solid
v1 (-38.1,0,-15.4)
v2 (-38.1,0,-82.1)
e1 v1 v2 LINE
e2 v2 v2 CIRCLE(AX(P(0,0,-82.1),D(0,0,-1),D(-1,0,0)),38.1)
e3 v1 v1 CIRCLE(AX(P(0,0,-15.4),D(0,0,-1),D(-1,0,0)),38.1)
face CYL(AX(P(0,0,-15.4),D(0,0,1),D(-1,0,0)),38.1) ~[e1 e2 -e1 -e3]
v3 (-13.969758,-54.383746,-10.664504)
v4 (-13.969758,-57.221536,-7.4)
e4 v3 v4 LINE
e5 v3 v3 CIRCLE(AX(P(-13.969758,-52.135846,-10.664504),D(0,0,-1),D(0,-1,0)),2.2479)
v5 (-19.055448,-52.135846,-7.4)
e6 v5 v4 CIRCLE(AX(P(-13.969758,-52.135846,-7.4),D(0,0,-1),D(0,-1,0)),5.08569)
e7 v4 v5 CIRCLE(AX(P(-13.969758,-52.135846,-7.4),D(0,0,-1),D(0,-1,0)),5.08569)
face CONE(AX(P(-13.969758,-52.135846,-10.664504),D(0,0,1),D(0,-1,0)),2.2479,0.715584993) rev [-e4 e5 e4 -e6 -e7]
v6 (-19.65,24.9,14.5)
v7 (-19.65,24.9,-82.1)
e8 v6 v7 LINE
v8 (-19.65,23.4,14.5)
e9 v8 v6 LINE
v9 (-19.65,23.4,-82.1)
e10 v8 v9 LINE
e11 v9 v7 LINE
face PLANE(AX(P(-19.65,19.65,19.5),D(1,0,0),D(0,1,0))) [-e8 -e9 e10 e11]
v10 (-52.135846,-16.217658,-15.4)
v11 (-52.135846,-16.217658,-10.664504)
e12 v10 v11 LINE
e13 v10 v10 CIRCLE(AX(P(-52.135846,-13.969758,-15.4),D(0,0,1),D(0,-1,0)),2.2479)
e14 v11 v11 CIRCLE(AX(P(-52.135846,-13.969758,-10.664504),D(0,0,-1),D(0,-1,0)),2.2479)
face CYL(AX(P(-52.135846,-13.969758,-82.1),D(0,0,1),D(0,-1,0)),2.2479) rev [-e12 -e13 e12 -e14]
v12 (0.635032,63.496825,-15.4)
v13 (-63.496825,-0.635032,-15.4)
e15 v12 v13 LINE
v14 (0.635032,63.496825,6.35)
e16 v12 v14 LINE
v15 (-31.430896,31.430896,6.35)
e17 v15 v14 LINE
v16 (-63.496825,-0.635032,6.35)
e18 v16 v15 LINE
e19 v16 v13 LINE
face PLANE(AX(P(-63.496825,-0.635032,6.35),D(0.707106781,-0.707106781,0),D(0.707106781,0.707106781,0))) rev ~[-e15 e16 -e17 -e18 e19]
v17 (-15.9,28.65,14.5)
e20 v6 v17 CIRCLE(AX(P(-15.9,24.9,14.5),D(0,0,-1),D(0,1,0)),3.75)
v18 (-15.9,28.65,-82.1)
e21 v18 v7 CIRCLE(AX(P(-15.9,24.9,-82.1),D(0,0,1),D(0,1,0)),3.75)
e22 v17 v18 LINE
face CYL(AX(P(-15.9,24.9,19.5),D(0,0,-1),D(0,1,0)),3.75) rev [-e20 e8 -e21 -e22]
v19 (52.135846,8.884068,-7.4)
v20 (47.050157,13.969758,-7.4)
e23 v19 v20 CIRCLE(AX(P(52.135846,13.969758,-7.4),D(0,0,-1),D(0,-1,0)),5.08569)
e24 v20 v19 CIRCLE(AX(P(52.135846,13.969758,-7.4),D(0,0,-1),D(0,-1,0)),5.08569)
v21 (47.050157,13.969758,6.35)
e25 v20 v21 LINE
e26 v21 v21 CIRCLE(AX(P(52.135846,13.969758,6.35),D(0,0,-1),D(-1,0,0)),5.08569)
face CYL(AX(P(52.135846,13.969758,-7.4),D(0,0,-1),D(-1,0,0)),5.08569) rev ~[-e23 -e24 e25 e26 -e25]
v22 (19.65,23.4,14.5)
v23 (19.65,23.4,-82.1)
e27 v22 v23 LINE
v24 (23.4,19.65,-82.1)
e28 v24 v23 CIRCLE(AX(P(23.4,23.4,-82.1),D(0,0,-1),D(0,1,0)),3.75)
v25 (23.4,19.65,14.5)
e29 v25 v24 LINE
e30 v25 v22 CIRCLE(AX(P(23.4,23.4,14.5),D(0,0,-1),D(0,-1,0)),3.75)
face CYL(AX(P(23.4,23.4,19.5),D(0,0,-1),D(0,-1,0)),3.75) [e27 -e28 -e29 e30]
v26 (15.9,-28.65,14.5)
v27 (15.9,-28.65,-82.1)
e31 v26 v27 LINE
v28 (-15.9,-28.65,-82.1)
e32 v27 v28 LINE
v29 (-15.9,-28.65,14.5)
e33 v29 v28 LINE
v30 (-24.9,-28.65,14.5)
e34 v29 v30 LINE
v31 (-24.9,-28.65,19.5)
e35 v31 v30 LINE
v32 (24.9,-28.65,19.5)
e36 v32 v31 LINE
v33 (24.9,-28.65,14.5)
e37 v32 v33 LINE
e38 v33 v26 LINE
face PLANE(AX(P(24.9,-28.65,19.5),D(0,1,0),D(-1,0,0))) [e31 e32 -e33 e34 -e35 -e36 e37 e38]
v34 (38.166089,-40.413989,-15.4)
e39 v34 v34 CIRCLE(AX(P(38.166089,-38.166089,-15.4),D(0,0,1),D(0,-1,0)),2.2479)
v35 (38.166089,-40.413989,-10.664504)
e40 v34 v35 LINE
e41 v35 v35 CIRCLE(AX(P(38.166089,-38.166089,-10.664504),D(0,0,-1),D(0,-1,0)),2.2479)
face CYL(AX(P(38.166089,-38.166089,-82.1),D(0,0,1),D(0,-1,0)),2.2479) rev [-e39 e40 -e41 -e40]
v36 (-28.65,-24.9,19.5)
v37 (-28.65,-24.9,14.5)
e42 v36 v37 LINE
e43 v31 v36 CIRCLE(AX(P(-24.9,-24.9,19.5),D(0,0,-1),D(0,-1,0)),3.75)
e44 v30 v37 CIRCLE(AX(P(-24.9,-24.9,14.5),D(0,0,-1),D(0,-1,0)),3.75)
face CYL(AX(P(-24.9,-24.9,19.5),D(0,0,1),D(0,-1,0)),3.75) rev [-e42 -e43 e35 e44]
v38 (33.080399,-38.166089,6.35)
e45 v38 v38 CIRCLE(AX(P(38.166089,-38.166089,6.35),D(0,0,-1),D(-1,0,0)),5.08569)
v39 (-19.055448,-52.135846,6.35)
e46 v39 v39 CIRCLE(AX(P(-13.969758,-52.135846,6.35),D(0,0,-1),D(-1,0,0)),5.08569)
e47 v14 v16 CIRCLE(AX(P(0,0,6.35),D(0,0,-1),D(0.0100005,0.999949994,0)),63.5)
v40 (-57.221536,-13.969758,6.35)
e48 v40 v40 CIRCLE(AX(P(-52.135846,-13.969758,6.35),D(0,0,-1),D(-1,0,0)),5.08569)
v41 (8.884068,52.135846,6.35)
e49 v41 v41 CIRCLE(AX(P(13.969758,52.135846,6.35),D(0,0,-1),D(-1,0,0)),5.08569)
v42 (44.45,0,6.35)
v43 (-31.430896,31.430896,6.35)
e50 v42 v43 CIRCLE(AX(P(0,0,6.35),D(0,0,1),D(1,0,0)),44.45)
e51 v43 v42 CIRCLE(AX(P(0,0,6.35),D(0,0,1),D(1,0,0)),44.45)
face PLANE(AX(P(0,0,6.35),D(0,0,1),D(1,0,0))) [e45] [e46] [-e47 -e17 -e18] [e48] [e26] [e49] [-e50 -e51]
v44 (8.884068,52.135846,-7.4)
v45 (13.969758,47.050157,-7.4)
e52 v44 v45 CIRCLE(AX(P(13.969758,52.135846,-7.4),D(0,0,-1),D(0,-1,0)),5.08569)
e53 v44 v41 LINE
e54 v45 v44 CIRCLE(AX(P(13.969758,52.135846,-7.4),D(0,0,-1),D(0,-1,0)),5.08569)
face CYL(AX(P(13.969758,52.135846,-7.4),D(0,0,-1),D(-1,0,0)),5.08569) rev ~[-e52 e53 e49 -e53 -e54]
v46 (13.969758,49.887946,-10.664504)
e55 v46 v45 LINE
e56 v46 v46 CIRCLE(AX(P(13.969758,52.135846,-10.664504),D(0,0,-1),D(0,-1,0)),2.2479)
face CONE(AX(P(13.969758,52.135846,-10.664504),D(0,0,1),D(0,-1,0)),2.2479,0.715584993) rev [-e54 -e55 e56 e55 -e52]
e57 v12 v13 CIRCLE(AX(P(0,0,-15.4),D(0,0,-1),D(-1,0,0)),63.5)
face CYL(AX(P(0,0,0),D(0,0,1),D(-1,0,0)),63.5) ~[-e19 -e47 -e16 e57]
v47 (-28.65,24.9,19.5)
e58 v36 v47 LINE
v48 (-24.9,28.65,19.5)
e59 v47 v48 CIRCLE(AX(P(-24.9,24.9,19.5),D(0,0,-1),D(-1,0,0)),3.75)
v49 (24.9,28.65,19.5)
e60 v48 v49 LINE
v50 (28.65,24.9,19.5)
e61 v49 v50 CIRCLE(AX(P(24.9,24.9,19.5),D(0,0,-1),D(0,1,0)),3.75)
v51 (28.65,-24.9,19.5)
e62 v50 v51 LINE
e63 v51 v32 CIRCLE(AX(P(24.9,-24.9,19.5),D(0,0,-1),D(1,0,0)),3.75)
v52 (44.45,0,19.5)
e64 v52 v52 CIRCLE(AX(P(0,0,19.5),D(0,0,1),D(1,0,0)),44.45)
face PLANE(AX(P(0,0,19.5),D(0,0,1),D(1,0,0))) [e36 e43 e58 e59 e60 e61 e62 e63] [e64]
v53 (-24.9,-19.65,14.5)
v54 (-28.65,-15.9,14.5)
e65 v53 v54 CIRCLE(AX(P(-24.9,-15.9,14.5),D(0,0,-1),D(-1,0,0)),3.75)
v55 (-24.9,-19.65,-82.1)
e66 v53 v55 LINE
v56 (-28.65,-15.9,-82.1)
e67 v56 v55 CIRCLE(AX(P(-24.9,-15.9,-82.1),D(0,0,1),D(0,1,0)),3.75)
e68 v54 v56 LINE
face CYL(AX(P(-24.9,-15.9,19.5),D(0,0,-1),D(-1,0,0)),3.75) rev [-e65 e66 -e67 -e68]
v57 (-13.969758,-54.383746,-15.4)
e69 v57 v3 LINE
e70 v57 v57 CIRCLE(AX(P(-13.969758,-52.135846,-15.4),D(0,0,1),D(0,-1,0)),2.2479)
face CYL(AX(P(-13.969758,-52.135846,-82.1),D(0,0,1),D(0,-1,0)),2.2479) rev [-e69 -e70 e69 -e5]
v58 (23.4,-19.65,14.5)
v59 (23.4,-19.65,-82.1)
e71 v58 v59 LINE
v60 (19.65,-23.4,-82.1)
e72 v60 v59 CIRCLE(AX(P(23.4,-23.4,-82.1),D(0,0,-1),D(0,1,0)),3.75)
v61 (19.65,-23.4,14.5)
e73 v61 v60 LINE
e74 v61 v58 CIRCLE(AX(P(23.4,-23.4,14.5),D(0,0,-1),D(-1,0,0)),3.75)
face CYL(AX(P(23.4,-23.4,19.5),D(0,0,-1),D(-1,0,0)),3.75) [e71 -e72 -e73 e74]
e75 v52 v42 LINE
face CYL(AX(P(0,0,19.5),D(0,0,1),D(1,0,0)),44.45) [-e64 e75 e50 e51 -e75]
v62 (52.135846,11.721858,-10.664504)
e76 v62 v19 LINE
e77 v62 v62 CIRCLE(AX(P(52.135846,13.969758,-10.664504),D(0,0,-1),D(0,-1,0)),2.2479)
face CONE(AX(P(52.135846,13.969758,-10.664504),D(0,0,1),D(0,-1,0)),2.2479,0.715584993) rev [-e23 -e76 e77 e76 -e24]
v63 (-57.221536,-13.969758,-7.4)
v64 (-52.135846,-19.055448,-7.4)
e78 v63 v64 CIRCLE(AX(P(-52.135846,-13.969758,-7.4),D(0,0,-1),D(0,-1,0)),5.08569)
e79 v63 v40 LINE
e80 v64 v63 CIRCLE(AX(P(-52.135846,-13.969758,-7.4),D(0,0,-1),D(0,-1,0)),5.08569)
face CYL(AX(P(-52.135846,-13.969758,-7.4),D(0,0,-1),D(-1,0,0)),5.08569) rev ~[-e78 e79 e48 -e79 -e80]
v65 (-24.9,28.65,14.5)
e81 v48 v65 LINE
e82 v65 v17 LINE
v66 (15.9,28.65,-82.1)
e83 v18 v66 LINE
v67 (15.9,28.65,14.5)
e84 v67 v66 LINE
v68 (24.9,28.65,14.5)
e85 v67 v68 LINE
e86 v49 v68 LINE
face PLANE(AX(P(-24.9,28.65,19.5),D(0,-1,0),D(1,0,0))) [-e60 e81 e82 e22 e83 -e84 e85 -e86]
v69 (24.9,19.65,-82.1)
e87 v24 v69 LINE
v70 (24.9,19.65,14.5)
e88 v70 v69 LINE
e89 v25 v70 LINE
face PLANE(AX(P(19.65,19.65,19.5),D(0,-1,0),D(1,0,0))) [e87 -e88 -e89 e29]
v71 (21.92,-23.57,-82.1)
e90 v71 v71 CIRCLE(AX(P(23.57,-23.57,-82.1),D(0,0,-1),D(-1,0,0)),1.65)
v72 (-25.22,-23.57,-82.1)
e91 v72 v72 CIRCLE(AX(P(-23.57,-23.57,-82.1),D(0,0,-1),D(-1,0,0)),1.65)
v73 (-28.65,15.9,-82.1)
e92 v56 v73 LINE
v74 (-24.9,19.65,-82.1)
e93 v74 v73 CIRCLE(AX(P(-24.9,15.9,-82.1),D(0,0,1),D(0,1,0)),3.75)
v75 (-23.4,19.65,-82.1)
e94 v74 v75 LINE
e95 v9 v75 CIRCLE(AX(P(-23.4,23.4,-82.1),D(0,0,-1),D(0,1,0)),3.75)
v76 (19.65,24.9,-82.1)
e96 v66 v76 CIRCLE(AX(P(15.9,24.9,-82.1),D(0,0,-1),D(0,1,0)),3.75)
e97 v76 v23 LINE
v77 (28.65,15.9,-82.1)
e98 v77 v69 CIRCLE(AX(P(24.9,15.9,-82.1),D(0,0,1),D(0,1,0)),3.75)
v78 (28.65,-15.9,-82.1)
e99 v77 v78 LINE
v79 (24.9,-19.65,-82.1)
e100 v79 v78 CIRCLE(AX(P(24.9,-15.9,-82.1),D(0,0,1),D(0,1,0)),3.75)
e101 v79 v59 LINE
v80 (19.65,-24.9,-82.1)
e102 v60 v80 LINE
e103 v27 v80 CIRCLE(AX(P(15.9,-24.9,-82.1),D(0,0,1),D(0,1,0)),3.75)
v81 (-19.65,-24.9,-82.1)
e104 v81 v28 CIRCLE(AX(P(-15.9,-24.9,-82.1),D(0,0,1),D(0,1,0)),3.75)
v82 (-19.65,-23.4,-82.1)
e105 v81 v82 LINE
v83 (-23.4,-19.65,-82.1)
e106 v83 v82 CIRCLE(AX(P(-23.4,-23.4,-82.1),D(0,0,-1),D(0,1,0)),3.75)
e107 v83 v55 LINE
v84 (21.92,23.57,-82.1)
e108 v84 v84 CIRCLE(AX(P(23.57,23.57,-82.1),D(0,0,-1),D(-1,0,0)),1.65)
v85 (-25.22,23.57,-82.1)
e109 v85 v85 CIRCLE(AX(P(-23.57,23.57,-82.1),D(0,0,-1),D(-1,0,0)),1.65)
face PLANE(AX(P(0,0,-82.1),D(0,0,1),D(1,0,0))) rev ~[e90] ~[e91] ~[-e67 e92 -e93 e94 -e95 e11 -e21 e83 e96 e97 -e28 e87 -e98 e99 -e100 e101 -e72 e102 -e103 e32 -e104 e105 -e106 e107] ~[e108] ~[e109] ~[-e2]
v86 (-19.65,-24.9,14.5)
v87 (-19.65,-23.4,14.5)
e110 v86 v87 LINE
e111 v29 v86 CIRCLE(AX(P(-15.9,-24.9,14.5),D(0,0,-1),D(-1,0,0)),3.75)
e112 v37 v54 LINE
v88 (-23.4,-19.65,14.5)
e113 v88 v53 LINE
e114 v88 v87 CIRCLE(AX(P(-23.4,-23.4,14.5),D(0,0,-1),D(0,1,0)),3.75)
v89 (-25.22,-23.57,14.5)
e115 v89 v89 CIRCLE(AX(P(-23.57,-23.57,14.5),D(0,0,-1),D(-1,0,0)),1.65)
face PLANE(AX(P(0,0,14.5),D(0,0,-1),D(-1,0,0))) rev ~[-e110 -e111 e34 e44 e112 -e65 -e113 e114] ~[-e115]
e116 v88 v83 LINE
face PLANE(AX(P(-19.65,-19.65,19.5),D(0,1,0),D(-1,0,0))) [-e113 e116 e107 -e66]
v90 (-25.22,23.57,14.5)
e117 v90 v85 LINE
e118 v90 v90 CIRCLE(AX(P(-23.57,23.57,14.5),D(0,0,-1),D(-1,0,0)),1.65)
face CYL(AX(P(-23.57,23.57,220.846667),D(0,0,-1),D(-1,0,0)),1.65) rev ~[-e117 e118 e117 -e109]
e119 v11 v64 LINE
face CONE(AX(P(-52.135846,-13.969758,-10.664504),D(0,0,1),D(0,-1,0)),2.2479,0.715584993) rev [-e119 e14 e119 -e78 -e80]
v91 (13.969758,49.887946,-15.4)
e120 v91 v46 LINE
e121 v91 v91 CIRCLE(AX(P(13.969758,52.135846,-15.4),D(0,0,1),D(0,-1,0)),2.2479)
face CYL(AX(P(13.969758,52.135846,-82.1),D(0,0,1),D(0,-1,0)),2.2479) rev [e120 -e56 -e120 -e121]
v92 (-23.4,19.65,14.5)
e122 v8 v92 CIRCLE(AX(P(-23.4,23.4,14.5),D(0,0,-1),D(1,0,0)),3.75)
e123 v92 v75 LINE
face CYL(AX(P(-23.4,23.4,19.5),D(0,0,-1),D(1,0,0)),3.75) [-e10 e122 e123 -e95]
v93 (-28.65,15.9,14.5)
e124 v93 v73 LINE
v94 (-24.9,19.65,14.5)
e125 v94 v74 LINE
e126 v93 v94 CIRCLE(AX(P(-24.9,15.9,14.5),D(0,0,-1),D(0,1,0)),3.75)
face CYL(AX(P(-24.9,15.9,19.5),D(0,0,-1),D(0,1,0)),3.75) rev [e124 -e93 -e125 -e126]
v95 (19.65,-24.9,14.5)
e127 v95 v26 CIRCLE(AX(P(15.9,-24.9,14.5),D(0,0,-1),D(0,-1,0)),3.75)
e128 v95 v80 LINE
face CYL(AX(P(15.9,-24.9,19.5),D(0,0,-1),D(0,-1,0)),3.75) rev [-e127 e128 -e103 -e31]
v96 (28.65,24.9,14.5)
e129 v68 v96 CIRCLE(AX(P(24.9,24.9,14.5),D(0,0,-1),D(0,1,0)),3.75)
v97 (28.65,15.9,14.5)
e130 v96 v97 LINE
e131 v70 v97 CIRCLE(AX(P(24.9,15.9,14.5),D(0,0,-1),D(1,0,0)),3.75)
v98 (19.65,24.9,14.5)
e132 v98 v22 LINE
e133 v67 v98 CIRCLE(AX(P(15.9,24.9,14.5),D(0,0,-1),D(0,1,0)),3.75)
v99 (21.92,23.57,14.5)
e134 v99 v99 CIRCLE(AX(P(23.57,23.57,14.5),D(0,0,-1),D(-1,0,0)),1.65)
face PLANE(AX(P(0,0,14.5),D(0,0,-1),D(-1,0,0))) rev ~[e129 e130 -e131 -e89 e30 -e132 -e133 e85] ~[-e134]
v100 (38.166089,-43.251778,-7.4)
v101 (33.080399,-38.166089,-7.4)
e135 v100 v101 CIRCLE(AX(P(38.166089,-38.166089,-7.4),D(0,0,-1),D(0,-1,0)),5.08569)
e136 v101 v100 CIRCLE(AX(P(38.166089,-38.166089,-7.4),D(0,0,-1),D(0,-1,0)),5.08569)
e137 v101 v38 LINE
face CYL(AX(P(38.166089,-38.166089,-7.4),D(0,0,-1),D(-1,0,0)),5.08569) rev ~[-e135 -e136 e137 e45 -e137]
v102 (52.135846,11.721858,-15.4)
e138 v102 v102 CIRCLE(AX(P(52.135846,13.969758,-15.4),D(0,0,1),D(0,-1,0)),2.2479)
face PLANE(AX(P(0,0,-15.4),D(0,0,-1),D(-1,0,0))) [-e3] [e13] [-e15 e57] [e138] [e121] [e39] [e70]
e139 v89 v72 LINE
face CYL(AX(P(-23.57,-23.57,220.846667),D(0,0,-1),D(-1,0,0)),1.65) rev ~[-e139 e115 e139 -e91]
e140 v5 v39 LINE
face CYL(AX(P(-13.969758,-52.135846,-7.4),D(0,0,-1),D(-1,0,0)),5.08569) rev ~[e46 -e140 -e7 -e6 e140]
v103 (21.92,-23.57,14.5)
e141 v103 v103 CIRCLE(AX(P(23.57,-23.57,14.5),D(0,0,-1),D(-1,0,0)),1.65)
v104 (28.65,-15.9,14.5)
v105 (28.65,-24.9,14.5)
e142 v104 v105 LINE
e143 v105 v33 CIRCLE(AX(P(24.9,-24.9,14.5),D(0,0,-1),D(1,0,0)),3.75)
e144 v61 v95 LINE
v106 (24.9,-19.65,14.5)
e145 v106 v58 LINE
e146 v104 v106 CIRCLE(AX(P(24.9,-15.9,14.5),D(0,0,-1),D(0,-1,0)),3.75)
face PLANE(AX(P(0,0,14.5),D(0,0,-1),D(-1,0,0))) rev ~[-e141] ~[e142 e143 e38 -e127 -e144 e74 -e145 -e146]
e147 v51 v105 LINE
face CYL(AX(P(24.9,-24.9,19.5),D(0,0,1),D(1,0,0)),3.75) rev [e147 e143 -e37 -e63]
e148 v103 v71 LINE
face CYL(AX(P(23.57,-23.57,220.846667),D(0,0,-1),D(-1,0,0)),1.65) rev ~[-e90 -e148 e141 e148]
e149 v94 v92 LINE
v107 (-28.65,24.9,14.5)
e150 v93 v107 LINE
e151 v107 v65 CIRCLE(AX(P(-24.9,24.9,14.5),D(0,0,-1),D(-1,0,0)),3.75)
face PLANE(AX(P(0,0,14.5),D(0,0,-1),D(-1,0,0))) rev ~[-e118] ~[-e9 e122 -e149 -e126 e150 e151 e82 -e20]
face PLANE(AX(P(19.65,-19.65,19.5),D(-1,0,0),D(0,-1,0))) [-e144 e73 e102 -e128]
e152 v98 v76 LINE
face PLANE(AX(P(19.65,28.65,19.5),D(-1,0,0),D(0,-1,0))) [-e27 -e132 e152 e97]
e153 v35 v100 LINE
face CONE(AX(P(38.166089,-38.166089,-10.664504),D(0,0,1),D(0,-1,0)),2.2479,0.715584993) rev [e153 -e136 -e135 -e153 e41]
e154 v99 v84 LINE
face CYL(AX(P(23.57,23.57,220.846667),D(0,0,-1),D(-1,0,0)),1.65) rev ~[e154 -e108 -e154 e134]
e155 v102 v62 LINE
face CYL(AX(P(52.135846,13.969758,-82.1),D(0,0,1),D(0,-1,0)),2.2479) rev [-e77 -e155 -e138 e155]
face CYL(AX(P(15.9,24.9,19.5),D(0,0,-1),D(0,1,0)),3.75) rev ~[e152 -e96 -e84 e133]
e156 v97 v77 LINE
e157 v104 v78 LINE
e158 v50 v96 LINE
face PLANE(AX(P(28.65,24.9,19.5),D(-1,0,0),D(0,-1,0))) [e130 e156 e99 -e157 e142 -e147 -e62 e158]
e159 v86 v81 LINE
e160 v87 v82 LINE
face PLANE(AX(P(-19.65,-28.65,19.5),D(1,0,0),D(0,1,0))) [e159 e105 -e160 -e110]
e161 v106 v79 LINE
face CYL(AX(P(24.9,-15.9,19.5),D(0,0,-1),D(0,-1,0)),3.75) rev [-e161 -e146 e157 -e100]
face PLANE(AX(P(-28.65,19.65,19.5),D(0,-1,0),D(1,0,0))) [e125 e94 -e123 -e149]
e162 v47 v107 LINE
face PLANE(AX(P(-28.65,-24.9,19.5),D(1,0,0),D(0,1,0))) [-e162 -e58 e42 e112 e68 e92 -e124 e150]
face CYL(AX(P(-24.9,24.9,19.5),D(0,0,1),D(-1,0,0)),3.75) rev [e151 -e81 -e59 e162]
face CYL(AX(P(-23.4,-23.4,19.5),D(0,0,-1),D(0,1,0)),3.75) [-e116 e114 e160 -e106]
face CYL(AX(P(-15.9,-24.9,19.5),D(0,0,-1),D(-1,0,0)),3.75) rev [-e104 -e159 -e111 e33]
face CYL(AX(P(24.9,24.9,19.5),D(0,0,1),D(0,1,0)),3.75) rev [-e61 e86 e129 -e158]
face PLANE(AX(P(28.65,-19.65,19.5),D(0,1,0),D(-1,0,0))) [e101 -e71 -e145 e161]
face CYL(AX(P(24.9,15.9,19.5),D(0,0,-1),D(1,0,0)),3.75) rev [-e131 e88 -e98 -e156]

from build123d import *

# Parameters (mm, degrees)
SKETCH1_R                                     = 63.5
BOSS_EXTRUDE1_DEPTH                           = 6.35
BOSS_EXTRUDE2_START                           = 19.5
SKETCH1_3_R                                   = 44.45
BOSS_EXTRUDE2_DEPTH                           = 101.6
CUT_EXTRUDE1_DEPTH                            = 136.598893801
FILLET1_R                                     = 3.75
CUT_EXTRUDE2_DEPTH                            = 5
SKETCH4_R                                     = 63.5
SKETCH4_R_2                                   = 44.45
BOSS_EXTRUDE3_DEPTH                           = 15.4
CSK_FOR_8_FLAT_HEAD_MACHINE_SCREW1_AT_2_COUNT = 2
CSK_FOR_8_FLAT_HEAD_MACHINE_SCREW1_AT_2_PITCH = 53.975
CSK_FOR_8_FLAT_HEAD_MACHINE_SCREW1_AT_3_COUNT = 2
CSK_FOR_8_FLAT_HEAD_MACHINE_SCREW1_AT_3_PITCH = 93.487442339
CSK_FOR_8_FLAT_HEAD_MACHINE_SCREW1_AT_4_COUNT = 2
CSK_FOR_8_FLAT_HEAD_MACHINE_SCREW1_AT_4_PITCH = 107.95
CSK_FOR_8_FLAT_HEAD_MACHINE_SCREW1_AT_5_COUNT = 2
CSK_FOR_8_FLAT_HEAD_MACHINE_SCREW1_AT_5_PITCH = 93.487442339
CSK_FOR_8_FLAT_HEAD_MACHINE_SCREW1_AT_6_COUNT = 2
CSK_FOR_8_FLAT_HEAD_MACHINE_SCREW1_AT_6_PITCH = 53.975
CUT_EXTRUDE3_DEPTH                            = 127.047223293
SKETCH8_R                                     = 5.0856896
CUT_EXTRUDE4_DEPTH                            = 117.810059498
TAP_DRILL_FOR_M4X0_7_TAP1_D                   = 3.3
CUT_EXTRUDE5_START                            = -66.7
SKETCH12_R                                    = 44.45
SKETCH12_R_2                                  = 38.1
CUT_EXTRUDE5_DEPTH                            = 66.7


with BuildPart() as part:
    # Sketch1 → Boss-Extrude1 (new body)
    with BuildSketch(Plane.XY):
        Circle(SKETCH1_R)
    extrude(amount=BOSS_EXTRUDE1_DEPTH)

    # Sketch1<3> → Boss-Extrude2 (add)
    with BuildSketch(Plane.XY.offset(BOSS_EXTRUDE2_START)):
        Circle(SKETCH1_3_R)
    extrude(amount=-BOSS_EXTRUDE2_DEPTH)

    # Sketch2 → Cut-Extrude1 (cut, through all)
    with BuildSketch(Plane(origin=(0, 0, 19.5), x_dir=(-1, 0, 0), z_dir=(0, 0, -1))):
        Polygon((-19.65, 28.65), (-19.65, 19.65), (-28.65, 19.65), (-28.65, -19.65), (-19.65, -19.65), (-19.65, -28.65), (19.65, -28.65), (19.65, -19.65), (28.65, -19.65), (28.65, 19.65), (19.65, 19.65), (19.65, 28.65), align=None)
    extrude(amount=CUT_EXTRUDE1_DEPTH, mode=Mode.SUBTRACT)

    # Fillet1
    fillet1_edges = [part.edges().sort_by_distance(p)[0] for p in [
        (-19.65, 28.65, -31.3),
        (19.65, 28.65, -31.3),
        (19.65, 19.65, -31.3),
        (28.65, 19.65, -31.3),
        (28.65, -19.65, -31.3),
        (19.65, -19.65, -31.3),
        (19.65, -28.65, -31.3),
        (-19.65, -28.65, -31.3),
        (-19.65, -19.65, -31.3),
        (-28.65, -19.65, -31.3),
        (-28.65, 19.65, -31.3),
        (-19.65, 19.65, -31.3),
    ]]
    fillet(fillet1_edges, radius=FILLET1_R)

    # Sketch3 → Cut-Extrude2 (cut)
    with BuildSketch(Plane(origin=(0, 0, 19.5), x_dir=(-1, 0, 0), z_dir=(0, 0, -1))):
        with BuildLine():
            Line((-24.9, -28.65), (24.9, -28.65))
            ThreePointArc((24.9, -28.65), (27.551650429, -27.551650429), (28.65, -24.9))
            Line((28.65, -24.9), (28.65, 24.9))
            ThreePointArc((28.65, 24.9), (27.551650429, 27.551650429), (24.9, 28.65))
            Line((24.9, 28.65), (-24.9, 28.65))
            ThreePointArc((-24.9, 28.65), (-27.551650429, 27.551650429), (-28.65, 24.9))
            Line((-28.65, 24.9), (-28.65, -24.9))
            ThreePointArc((-28.65, -24.9), (-27.551650429, -27.551650429), (-24.9, -28.65))
        make_face()
    extrude(amount=CUT_EXTRUDE2_DEPTH, mode=Mode.SUBTRACT)

    # Sketch4 → Boss-Extrude3 (add)
    with BuildSketch(Plane(origin=(0, 0, 0), x_dir=(-1, 0, 0), z_dir=(0, 0, -1))):
        Circle(SKETCH4_R)
        with Locations(Location((0, 0, 0), (0, 0, 180))):
            Circle(SKETCH4_R_2, mode=Mode.SUBTRACT)
    extrude(amount=BOSS_EXTRUDE3_DEPTH)

    # Sketch7 → CSK for #8 Flat Head Machine Screw1 (revolve, cut)
    with BuildSketch(Plane(origin=(38.166088515, -38.166088515, -7.4), x_dir=(0, -1, 0), z_dir=(1, 0, 0))):
        Polygon((0, 0), (0, 74.7), (2.2479, 74.7), (2.2479, 3.264503502), (5.0856896, 0), align=None)
    csk_for_8_flat_head_machine_screw1 = revolve(axis=Axis((38.166088515, -38.166088515, -1.05), (0, 0, -1)), mode=Mode.SUBTRACT)

    # CSK for #8 Flat Head Machine Screw1 at 2: CSK for #8 Flat Head Machine Screw1 ×2
    with Locations(*[Vector(-0.9659258262890688, -0.25881904510251924, 0) * (i * CSK_FOR_8_FLAT_HEAD_MACHINE_SCREW1_AT_2_PITCH) for i in range(1, CSK_FOR_8_FLAT_HEAD_MACHINE_SCREW1_AT_2_COUNT)]):
        add(csk_for_8_flat_head_machine_screw1, mode=Mode.SUBTRACT)

    # CSK for #8 Flat Head Machine Screw1 at 3: CSK for #8 Flat Head Machine Screw1 ×2
    with Locations(*[Vector(-0.9659258262890679, 0.25881904510252224, 0) * (i * CSK_FOR_8_FLAT_HEAD_MACHINE_SCREW1_AT_3_PITCH) for i in range(1, CSK_FOR_8_FLAT_HEAD_MACHINE_SCREW1_AT_3_COUNT)]):
        add(csk_for_8_flat_head_machine_screw1, mode=Mode.SUBTRACT)

    # CSK for #8 Flat Head Machine Screw1 at 4: CSK for #8 Flat Head Machine Screw1 ×2
    with Locations(*[Vector(-0.7071067811865464, 0.7071067811865487, 0) * (i * CSK_FOR_8_FLAT_HEAD_MACHINE_SCREW1_AT_4_PITCH) for i in range(1, CSK_FOR_8_FLAT_HEAD_MACHINE_SCREW1_AT_4_COUNT)]):
        add(csk_for_8_flat_head_machine_screw1, mode=Mode.SUBTRACT)

    # CSK for #8 Flat Head Machine Screw1 at 5: CSK for #8 Flat Head Machine Screw1 ×2
    with Locations(*[Vector(-0.2588190451025193, 0.9659258262890688, 0) * (i * CSK_FOR_8_FLAT_HEAD_MACHINE_SCREW1_AT_5_PITCH) for i in range(1, CSK_FOR_8_FLAT_HEAD_MACHINE_SCREW1_AT_5_COUNT)]):
        add(csk_for_8_flat_head_machine_screw1, mode=Mode.SUBTRACT)

    # CSK for #8 Flat Head Machine Screw1 at 6: CSK for #8 Flat Head Machine Screw1 ×2
    with Locations(*[Vector(0.25881904510252257, 0.9659258262890679, 0) * (i * CSK_FOR_8_FLAT_HEAD_MACHINE_SCREW1_AT_6_PITCH) for i in range(1, CSK_FOR_8_FLAT_HEAD_MACHINE_SCREW1_AT_6_COUNT)]):
        add(csk_for_8_flat_head_machine_screw1, mode=Mode.SUBTRACT)

    # Sketch5 → Cut-Extrude3 (cut, through all)
    with BuildSketch(Plane.XY.offset(6.35)):
        with BuildLine():
            Line((-63.496824603, -0.635031756), (0.635031756, 63.496824603))
            ThreePointArc((0.635031756, 63.496824603), (-44.901280605, 44.901280605), (-63.496824603, -0.635031756))
        make_face()
    extrude(amount=-CUT_EXTRUDE3_DEPTH, mode=Mode.SUBTRACT)

    # Sketch8 → Cut-Extrude4 (cut, through all)
    with BuildSketch(Plane(origin=(0, 0, -7.4), x_dir=(-1, 0, 0), z_dir=(0, 0, -1))):
        with Locations((-38.166088515, -38.166088515)):
            Circle(SKETCH8_R)
        with Locations((52.135846474, -13.969757959)):
            Circle(SKETCH8_R)
        with Locations((13.969757959, -52.135846474)):
            Circle(SKETCH8_R)
        with Locations((-52.135846474, 13.969757959)):
            Circle(SKETCH8_R)
        with Locations((-13.969757959, 52.135846474)):
            Circle(SKETCH8_R)
    extrude(amount=-CUT_EXTRUDE4_DEPTH, mode=Mode.SUBTRACT)

    # Tap Drill for M4x0.7 Tap1 (through all)
    with Locations(Plane.XY.offset(14.5)):
        with Locations((-23.57, 23.57), (23.57, 23.57), (23.57, -23.57), (-23.57, -23.57)):
            Hole(TAP_DRILL_FOR_M4X0_7_TAP1_D / 2)

    # Sketch12 → Cut-Extrude5 (cut)
    with BuildSketch(Plane(origin=(0, 0, -82.1), x_dir=(-1, 0, 0), z_dir=(0, 0, -1)).offset(CUT_EXTRUDE5_START)):
        with Locations(Location((0, 0, 0), (0, 0, 180))):
            Circle(SKETCH12_R)
        Circle(SKETCH12_R_2, mode=Mode.SUBTRACT)
    extrude(amount=CUT_EXTRUDE5_DEPTH, mode=Mode.SUBTRACT)


solid = part.part
